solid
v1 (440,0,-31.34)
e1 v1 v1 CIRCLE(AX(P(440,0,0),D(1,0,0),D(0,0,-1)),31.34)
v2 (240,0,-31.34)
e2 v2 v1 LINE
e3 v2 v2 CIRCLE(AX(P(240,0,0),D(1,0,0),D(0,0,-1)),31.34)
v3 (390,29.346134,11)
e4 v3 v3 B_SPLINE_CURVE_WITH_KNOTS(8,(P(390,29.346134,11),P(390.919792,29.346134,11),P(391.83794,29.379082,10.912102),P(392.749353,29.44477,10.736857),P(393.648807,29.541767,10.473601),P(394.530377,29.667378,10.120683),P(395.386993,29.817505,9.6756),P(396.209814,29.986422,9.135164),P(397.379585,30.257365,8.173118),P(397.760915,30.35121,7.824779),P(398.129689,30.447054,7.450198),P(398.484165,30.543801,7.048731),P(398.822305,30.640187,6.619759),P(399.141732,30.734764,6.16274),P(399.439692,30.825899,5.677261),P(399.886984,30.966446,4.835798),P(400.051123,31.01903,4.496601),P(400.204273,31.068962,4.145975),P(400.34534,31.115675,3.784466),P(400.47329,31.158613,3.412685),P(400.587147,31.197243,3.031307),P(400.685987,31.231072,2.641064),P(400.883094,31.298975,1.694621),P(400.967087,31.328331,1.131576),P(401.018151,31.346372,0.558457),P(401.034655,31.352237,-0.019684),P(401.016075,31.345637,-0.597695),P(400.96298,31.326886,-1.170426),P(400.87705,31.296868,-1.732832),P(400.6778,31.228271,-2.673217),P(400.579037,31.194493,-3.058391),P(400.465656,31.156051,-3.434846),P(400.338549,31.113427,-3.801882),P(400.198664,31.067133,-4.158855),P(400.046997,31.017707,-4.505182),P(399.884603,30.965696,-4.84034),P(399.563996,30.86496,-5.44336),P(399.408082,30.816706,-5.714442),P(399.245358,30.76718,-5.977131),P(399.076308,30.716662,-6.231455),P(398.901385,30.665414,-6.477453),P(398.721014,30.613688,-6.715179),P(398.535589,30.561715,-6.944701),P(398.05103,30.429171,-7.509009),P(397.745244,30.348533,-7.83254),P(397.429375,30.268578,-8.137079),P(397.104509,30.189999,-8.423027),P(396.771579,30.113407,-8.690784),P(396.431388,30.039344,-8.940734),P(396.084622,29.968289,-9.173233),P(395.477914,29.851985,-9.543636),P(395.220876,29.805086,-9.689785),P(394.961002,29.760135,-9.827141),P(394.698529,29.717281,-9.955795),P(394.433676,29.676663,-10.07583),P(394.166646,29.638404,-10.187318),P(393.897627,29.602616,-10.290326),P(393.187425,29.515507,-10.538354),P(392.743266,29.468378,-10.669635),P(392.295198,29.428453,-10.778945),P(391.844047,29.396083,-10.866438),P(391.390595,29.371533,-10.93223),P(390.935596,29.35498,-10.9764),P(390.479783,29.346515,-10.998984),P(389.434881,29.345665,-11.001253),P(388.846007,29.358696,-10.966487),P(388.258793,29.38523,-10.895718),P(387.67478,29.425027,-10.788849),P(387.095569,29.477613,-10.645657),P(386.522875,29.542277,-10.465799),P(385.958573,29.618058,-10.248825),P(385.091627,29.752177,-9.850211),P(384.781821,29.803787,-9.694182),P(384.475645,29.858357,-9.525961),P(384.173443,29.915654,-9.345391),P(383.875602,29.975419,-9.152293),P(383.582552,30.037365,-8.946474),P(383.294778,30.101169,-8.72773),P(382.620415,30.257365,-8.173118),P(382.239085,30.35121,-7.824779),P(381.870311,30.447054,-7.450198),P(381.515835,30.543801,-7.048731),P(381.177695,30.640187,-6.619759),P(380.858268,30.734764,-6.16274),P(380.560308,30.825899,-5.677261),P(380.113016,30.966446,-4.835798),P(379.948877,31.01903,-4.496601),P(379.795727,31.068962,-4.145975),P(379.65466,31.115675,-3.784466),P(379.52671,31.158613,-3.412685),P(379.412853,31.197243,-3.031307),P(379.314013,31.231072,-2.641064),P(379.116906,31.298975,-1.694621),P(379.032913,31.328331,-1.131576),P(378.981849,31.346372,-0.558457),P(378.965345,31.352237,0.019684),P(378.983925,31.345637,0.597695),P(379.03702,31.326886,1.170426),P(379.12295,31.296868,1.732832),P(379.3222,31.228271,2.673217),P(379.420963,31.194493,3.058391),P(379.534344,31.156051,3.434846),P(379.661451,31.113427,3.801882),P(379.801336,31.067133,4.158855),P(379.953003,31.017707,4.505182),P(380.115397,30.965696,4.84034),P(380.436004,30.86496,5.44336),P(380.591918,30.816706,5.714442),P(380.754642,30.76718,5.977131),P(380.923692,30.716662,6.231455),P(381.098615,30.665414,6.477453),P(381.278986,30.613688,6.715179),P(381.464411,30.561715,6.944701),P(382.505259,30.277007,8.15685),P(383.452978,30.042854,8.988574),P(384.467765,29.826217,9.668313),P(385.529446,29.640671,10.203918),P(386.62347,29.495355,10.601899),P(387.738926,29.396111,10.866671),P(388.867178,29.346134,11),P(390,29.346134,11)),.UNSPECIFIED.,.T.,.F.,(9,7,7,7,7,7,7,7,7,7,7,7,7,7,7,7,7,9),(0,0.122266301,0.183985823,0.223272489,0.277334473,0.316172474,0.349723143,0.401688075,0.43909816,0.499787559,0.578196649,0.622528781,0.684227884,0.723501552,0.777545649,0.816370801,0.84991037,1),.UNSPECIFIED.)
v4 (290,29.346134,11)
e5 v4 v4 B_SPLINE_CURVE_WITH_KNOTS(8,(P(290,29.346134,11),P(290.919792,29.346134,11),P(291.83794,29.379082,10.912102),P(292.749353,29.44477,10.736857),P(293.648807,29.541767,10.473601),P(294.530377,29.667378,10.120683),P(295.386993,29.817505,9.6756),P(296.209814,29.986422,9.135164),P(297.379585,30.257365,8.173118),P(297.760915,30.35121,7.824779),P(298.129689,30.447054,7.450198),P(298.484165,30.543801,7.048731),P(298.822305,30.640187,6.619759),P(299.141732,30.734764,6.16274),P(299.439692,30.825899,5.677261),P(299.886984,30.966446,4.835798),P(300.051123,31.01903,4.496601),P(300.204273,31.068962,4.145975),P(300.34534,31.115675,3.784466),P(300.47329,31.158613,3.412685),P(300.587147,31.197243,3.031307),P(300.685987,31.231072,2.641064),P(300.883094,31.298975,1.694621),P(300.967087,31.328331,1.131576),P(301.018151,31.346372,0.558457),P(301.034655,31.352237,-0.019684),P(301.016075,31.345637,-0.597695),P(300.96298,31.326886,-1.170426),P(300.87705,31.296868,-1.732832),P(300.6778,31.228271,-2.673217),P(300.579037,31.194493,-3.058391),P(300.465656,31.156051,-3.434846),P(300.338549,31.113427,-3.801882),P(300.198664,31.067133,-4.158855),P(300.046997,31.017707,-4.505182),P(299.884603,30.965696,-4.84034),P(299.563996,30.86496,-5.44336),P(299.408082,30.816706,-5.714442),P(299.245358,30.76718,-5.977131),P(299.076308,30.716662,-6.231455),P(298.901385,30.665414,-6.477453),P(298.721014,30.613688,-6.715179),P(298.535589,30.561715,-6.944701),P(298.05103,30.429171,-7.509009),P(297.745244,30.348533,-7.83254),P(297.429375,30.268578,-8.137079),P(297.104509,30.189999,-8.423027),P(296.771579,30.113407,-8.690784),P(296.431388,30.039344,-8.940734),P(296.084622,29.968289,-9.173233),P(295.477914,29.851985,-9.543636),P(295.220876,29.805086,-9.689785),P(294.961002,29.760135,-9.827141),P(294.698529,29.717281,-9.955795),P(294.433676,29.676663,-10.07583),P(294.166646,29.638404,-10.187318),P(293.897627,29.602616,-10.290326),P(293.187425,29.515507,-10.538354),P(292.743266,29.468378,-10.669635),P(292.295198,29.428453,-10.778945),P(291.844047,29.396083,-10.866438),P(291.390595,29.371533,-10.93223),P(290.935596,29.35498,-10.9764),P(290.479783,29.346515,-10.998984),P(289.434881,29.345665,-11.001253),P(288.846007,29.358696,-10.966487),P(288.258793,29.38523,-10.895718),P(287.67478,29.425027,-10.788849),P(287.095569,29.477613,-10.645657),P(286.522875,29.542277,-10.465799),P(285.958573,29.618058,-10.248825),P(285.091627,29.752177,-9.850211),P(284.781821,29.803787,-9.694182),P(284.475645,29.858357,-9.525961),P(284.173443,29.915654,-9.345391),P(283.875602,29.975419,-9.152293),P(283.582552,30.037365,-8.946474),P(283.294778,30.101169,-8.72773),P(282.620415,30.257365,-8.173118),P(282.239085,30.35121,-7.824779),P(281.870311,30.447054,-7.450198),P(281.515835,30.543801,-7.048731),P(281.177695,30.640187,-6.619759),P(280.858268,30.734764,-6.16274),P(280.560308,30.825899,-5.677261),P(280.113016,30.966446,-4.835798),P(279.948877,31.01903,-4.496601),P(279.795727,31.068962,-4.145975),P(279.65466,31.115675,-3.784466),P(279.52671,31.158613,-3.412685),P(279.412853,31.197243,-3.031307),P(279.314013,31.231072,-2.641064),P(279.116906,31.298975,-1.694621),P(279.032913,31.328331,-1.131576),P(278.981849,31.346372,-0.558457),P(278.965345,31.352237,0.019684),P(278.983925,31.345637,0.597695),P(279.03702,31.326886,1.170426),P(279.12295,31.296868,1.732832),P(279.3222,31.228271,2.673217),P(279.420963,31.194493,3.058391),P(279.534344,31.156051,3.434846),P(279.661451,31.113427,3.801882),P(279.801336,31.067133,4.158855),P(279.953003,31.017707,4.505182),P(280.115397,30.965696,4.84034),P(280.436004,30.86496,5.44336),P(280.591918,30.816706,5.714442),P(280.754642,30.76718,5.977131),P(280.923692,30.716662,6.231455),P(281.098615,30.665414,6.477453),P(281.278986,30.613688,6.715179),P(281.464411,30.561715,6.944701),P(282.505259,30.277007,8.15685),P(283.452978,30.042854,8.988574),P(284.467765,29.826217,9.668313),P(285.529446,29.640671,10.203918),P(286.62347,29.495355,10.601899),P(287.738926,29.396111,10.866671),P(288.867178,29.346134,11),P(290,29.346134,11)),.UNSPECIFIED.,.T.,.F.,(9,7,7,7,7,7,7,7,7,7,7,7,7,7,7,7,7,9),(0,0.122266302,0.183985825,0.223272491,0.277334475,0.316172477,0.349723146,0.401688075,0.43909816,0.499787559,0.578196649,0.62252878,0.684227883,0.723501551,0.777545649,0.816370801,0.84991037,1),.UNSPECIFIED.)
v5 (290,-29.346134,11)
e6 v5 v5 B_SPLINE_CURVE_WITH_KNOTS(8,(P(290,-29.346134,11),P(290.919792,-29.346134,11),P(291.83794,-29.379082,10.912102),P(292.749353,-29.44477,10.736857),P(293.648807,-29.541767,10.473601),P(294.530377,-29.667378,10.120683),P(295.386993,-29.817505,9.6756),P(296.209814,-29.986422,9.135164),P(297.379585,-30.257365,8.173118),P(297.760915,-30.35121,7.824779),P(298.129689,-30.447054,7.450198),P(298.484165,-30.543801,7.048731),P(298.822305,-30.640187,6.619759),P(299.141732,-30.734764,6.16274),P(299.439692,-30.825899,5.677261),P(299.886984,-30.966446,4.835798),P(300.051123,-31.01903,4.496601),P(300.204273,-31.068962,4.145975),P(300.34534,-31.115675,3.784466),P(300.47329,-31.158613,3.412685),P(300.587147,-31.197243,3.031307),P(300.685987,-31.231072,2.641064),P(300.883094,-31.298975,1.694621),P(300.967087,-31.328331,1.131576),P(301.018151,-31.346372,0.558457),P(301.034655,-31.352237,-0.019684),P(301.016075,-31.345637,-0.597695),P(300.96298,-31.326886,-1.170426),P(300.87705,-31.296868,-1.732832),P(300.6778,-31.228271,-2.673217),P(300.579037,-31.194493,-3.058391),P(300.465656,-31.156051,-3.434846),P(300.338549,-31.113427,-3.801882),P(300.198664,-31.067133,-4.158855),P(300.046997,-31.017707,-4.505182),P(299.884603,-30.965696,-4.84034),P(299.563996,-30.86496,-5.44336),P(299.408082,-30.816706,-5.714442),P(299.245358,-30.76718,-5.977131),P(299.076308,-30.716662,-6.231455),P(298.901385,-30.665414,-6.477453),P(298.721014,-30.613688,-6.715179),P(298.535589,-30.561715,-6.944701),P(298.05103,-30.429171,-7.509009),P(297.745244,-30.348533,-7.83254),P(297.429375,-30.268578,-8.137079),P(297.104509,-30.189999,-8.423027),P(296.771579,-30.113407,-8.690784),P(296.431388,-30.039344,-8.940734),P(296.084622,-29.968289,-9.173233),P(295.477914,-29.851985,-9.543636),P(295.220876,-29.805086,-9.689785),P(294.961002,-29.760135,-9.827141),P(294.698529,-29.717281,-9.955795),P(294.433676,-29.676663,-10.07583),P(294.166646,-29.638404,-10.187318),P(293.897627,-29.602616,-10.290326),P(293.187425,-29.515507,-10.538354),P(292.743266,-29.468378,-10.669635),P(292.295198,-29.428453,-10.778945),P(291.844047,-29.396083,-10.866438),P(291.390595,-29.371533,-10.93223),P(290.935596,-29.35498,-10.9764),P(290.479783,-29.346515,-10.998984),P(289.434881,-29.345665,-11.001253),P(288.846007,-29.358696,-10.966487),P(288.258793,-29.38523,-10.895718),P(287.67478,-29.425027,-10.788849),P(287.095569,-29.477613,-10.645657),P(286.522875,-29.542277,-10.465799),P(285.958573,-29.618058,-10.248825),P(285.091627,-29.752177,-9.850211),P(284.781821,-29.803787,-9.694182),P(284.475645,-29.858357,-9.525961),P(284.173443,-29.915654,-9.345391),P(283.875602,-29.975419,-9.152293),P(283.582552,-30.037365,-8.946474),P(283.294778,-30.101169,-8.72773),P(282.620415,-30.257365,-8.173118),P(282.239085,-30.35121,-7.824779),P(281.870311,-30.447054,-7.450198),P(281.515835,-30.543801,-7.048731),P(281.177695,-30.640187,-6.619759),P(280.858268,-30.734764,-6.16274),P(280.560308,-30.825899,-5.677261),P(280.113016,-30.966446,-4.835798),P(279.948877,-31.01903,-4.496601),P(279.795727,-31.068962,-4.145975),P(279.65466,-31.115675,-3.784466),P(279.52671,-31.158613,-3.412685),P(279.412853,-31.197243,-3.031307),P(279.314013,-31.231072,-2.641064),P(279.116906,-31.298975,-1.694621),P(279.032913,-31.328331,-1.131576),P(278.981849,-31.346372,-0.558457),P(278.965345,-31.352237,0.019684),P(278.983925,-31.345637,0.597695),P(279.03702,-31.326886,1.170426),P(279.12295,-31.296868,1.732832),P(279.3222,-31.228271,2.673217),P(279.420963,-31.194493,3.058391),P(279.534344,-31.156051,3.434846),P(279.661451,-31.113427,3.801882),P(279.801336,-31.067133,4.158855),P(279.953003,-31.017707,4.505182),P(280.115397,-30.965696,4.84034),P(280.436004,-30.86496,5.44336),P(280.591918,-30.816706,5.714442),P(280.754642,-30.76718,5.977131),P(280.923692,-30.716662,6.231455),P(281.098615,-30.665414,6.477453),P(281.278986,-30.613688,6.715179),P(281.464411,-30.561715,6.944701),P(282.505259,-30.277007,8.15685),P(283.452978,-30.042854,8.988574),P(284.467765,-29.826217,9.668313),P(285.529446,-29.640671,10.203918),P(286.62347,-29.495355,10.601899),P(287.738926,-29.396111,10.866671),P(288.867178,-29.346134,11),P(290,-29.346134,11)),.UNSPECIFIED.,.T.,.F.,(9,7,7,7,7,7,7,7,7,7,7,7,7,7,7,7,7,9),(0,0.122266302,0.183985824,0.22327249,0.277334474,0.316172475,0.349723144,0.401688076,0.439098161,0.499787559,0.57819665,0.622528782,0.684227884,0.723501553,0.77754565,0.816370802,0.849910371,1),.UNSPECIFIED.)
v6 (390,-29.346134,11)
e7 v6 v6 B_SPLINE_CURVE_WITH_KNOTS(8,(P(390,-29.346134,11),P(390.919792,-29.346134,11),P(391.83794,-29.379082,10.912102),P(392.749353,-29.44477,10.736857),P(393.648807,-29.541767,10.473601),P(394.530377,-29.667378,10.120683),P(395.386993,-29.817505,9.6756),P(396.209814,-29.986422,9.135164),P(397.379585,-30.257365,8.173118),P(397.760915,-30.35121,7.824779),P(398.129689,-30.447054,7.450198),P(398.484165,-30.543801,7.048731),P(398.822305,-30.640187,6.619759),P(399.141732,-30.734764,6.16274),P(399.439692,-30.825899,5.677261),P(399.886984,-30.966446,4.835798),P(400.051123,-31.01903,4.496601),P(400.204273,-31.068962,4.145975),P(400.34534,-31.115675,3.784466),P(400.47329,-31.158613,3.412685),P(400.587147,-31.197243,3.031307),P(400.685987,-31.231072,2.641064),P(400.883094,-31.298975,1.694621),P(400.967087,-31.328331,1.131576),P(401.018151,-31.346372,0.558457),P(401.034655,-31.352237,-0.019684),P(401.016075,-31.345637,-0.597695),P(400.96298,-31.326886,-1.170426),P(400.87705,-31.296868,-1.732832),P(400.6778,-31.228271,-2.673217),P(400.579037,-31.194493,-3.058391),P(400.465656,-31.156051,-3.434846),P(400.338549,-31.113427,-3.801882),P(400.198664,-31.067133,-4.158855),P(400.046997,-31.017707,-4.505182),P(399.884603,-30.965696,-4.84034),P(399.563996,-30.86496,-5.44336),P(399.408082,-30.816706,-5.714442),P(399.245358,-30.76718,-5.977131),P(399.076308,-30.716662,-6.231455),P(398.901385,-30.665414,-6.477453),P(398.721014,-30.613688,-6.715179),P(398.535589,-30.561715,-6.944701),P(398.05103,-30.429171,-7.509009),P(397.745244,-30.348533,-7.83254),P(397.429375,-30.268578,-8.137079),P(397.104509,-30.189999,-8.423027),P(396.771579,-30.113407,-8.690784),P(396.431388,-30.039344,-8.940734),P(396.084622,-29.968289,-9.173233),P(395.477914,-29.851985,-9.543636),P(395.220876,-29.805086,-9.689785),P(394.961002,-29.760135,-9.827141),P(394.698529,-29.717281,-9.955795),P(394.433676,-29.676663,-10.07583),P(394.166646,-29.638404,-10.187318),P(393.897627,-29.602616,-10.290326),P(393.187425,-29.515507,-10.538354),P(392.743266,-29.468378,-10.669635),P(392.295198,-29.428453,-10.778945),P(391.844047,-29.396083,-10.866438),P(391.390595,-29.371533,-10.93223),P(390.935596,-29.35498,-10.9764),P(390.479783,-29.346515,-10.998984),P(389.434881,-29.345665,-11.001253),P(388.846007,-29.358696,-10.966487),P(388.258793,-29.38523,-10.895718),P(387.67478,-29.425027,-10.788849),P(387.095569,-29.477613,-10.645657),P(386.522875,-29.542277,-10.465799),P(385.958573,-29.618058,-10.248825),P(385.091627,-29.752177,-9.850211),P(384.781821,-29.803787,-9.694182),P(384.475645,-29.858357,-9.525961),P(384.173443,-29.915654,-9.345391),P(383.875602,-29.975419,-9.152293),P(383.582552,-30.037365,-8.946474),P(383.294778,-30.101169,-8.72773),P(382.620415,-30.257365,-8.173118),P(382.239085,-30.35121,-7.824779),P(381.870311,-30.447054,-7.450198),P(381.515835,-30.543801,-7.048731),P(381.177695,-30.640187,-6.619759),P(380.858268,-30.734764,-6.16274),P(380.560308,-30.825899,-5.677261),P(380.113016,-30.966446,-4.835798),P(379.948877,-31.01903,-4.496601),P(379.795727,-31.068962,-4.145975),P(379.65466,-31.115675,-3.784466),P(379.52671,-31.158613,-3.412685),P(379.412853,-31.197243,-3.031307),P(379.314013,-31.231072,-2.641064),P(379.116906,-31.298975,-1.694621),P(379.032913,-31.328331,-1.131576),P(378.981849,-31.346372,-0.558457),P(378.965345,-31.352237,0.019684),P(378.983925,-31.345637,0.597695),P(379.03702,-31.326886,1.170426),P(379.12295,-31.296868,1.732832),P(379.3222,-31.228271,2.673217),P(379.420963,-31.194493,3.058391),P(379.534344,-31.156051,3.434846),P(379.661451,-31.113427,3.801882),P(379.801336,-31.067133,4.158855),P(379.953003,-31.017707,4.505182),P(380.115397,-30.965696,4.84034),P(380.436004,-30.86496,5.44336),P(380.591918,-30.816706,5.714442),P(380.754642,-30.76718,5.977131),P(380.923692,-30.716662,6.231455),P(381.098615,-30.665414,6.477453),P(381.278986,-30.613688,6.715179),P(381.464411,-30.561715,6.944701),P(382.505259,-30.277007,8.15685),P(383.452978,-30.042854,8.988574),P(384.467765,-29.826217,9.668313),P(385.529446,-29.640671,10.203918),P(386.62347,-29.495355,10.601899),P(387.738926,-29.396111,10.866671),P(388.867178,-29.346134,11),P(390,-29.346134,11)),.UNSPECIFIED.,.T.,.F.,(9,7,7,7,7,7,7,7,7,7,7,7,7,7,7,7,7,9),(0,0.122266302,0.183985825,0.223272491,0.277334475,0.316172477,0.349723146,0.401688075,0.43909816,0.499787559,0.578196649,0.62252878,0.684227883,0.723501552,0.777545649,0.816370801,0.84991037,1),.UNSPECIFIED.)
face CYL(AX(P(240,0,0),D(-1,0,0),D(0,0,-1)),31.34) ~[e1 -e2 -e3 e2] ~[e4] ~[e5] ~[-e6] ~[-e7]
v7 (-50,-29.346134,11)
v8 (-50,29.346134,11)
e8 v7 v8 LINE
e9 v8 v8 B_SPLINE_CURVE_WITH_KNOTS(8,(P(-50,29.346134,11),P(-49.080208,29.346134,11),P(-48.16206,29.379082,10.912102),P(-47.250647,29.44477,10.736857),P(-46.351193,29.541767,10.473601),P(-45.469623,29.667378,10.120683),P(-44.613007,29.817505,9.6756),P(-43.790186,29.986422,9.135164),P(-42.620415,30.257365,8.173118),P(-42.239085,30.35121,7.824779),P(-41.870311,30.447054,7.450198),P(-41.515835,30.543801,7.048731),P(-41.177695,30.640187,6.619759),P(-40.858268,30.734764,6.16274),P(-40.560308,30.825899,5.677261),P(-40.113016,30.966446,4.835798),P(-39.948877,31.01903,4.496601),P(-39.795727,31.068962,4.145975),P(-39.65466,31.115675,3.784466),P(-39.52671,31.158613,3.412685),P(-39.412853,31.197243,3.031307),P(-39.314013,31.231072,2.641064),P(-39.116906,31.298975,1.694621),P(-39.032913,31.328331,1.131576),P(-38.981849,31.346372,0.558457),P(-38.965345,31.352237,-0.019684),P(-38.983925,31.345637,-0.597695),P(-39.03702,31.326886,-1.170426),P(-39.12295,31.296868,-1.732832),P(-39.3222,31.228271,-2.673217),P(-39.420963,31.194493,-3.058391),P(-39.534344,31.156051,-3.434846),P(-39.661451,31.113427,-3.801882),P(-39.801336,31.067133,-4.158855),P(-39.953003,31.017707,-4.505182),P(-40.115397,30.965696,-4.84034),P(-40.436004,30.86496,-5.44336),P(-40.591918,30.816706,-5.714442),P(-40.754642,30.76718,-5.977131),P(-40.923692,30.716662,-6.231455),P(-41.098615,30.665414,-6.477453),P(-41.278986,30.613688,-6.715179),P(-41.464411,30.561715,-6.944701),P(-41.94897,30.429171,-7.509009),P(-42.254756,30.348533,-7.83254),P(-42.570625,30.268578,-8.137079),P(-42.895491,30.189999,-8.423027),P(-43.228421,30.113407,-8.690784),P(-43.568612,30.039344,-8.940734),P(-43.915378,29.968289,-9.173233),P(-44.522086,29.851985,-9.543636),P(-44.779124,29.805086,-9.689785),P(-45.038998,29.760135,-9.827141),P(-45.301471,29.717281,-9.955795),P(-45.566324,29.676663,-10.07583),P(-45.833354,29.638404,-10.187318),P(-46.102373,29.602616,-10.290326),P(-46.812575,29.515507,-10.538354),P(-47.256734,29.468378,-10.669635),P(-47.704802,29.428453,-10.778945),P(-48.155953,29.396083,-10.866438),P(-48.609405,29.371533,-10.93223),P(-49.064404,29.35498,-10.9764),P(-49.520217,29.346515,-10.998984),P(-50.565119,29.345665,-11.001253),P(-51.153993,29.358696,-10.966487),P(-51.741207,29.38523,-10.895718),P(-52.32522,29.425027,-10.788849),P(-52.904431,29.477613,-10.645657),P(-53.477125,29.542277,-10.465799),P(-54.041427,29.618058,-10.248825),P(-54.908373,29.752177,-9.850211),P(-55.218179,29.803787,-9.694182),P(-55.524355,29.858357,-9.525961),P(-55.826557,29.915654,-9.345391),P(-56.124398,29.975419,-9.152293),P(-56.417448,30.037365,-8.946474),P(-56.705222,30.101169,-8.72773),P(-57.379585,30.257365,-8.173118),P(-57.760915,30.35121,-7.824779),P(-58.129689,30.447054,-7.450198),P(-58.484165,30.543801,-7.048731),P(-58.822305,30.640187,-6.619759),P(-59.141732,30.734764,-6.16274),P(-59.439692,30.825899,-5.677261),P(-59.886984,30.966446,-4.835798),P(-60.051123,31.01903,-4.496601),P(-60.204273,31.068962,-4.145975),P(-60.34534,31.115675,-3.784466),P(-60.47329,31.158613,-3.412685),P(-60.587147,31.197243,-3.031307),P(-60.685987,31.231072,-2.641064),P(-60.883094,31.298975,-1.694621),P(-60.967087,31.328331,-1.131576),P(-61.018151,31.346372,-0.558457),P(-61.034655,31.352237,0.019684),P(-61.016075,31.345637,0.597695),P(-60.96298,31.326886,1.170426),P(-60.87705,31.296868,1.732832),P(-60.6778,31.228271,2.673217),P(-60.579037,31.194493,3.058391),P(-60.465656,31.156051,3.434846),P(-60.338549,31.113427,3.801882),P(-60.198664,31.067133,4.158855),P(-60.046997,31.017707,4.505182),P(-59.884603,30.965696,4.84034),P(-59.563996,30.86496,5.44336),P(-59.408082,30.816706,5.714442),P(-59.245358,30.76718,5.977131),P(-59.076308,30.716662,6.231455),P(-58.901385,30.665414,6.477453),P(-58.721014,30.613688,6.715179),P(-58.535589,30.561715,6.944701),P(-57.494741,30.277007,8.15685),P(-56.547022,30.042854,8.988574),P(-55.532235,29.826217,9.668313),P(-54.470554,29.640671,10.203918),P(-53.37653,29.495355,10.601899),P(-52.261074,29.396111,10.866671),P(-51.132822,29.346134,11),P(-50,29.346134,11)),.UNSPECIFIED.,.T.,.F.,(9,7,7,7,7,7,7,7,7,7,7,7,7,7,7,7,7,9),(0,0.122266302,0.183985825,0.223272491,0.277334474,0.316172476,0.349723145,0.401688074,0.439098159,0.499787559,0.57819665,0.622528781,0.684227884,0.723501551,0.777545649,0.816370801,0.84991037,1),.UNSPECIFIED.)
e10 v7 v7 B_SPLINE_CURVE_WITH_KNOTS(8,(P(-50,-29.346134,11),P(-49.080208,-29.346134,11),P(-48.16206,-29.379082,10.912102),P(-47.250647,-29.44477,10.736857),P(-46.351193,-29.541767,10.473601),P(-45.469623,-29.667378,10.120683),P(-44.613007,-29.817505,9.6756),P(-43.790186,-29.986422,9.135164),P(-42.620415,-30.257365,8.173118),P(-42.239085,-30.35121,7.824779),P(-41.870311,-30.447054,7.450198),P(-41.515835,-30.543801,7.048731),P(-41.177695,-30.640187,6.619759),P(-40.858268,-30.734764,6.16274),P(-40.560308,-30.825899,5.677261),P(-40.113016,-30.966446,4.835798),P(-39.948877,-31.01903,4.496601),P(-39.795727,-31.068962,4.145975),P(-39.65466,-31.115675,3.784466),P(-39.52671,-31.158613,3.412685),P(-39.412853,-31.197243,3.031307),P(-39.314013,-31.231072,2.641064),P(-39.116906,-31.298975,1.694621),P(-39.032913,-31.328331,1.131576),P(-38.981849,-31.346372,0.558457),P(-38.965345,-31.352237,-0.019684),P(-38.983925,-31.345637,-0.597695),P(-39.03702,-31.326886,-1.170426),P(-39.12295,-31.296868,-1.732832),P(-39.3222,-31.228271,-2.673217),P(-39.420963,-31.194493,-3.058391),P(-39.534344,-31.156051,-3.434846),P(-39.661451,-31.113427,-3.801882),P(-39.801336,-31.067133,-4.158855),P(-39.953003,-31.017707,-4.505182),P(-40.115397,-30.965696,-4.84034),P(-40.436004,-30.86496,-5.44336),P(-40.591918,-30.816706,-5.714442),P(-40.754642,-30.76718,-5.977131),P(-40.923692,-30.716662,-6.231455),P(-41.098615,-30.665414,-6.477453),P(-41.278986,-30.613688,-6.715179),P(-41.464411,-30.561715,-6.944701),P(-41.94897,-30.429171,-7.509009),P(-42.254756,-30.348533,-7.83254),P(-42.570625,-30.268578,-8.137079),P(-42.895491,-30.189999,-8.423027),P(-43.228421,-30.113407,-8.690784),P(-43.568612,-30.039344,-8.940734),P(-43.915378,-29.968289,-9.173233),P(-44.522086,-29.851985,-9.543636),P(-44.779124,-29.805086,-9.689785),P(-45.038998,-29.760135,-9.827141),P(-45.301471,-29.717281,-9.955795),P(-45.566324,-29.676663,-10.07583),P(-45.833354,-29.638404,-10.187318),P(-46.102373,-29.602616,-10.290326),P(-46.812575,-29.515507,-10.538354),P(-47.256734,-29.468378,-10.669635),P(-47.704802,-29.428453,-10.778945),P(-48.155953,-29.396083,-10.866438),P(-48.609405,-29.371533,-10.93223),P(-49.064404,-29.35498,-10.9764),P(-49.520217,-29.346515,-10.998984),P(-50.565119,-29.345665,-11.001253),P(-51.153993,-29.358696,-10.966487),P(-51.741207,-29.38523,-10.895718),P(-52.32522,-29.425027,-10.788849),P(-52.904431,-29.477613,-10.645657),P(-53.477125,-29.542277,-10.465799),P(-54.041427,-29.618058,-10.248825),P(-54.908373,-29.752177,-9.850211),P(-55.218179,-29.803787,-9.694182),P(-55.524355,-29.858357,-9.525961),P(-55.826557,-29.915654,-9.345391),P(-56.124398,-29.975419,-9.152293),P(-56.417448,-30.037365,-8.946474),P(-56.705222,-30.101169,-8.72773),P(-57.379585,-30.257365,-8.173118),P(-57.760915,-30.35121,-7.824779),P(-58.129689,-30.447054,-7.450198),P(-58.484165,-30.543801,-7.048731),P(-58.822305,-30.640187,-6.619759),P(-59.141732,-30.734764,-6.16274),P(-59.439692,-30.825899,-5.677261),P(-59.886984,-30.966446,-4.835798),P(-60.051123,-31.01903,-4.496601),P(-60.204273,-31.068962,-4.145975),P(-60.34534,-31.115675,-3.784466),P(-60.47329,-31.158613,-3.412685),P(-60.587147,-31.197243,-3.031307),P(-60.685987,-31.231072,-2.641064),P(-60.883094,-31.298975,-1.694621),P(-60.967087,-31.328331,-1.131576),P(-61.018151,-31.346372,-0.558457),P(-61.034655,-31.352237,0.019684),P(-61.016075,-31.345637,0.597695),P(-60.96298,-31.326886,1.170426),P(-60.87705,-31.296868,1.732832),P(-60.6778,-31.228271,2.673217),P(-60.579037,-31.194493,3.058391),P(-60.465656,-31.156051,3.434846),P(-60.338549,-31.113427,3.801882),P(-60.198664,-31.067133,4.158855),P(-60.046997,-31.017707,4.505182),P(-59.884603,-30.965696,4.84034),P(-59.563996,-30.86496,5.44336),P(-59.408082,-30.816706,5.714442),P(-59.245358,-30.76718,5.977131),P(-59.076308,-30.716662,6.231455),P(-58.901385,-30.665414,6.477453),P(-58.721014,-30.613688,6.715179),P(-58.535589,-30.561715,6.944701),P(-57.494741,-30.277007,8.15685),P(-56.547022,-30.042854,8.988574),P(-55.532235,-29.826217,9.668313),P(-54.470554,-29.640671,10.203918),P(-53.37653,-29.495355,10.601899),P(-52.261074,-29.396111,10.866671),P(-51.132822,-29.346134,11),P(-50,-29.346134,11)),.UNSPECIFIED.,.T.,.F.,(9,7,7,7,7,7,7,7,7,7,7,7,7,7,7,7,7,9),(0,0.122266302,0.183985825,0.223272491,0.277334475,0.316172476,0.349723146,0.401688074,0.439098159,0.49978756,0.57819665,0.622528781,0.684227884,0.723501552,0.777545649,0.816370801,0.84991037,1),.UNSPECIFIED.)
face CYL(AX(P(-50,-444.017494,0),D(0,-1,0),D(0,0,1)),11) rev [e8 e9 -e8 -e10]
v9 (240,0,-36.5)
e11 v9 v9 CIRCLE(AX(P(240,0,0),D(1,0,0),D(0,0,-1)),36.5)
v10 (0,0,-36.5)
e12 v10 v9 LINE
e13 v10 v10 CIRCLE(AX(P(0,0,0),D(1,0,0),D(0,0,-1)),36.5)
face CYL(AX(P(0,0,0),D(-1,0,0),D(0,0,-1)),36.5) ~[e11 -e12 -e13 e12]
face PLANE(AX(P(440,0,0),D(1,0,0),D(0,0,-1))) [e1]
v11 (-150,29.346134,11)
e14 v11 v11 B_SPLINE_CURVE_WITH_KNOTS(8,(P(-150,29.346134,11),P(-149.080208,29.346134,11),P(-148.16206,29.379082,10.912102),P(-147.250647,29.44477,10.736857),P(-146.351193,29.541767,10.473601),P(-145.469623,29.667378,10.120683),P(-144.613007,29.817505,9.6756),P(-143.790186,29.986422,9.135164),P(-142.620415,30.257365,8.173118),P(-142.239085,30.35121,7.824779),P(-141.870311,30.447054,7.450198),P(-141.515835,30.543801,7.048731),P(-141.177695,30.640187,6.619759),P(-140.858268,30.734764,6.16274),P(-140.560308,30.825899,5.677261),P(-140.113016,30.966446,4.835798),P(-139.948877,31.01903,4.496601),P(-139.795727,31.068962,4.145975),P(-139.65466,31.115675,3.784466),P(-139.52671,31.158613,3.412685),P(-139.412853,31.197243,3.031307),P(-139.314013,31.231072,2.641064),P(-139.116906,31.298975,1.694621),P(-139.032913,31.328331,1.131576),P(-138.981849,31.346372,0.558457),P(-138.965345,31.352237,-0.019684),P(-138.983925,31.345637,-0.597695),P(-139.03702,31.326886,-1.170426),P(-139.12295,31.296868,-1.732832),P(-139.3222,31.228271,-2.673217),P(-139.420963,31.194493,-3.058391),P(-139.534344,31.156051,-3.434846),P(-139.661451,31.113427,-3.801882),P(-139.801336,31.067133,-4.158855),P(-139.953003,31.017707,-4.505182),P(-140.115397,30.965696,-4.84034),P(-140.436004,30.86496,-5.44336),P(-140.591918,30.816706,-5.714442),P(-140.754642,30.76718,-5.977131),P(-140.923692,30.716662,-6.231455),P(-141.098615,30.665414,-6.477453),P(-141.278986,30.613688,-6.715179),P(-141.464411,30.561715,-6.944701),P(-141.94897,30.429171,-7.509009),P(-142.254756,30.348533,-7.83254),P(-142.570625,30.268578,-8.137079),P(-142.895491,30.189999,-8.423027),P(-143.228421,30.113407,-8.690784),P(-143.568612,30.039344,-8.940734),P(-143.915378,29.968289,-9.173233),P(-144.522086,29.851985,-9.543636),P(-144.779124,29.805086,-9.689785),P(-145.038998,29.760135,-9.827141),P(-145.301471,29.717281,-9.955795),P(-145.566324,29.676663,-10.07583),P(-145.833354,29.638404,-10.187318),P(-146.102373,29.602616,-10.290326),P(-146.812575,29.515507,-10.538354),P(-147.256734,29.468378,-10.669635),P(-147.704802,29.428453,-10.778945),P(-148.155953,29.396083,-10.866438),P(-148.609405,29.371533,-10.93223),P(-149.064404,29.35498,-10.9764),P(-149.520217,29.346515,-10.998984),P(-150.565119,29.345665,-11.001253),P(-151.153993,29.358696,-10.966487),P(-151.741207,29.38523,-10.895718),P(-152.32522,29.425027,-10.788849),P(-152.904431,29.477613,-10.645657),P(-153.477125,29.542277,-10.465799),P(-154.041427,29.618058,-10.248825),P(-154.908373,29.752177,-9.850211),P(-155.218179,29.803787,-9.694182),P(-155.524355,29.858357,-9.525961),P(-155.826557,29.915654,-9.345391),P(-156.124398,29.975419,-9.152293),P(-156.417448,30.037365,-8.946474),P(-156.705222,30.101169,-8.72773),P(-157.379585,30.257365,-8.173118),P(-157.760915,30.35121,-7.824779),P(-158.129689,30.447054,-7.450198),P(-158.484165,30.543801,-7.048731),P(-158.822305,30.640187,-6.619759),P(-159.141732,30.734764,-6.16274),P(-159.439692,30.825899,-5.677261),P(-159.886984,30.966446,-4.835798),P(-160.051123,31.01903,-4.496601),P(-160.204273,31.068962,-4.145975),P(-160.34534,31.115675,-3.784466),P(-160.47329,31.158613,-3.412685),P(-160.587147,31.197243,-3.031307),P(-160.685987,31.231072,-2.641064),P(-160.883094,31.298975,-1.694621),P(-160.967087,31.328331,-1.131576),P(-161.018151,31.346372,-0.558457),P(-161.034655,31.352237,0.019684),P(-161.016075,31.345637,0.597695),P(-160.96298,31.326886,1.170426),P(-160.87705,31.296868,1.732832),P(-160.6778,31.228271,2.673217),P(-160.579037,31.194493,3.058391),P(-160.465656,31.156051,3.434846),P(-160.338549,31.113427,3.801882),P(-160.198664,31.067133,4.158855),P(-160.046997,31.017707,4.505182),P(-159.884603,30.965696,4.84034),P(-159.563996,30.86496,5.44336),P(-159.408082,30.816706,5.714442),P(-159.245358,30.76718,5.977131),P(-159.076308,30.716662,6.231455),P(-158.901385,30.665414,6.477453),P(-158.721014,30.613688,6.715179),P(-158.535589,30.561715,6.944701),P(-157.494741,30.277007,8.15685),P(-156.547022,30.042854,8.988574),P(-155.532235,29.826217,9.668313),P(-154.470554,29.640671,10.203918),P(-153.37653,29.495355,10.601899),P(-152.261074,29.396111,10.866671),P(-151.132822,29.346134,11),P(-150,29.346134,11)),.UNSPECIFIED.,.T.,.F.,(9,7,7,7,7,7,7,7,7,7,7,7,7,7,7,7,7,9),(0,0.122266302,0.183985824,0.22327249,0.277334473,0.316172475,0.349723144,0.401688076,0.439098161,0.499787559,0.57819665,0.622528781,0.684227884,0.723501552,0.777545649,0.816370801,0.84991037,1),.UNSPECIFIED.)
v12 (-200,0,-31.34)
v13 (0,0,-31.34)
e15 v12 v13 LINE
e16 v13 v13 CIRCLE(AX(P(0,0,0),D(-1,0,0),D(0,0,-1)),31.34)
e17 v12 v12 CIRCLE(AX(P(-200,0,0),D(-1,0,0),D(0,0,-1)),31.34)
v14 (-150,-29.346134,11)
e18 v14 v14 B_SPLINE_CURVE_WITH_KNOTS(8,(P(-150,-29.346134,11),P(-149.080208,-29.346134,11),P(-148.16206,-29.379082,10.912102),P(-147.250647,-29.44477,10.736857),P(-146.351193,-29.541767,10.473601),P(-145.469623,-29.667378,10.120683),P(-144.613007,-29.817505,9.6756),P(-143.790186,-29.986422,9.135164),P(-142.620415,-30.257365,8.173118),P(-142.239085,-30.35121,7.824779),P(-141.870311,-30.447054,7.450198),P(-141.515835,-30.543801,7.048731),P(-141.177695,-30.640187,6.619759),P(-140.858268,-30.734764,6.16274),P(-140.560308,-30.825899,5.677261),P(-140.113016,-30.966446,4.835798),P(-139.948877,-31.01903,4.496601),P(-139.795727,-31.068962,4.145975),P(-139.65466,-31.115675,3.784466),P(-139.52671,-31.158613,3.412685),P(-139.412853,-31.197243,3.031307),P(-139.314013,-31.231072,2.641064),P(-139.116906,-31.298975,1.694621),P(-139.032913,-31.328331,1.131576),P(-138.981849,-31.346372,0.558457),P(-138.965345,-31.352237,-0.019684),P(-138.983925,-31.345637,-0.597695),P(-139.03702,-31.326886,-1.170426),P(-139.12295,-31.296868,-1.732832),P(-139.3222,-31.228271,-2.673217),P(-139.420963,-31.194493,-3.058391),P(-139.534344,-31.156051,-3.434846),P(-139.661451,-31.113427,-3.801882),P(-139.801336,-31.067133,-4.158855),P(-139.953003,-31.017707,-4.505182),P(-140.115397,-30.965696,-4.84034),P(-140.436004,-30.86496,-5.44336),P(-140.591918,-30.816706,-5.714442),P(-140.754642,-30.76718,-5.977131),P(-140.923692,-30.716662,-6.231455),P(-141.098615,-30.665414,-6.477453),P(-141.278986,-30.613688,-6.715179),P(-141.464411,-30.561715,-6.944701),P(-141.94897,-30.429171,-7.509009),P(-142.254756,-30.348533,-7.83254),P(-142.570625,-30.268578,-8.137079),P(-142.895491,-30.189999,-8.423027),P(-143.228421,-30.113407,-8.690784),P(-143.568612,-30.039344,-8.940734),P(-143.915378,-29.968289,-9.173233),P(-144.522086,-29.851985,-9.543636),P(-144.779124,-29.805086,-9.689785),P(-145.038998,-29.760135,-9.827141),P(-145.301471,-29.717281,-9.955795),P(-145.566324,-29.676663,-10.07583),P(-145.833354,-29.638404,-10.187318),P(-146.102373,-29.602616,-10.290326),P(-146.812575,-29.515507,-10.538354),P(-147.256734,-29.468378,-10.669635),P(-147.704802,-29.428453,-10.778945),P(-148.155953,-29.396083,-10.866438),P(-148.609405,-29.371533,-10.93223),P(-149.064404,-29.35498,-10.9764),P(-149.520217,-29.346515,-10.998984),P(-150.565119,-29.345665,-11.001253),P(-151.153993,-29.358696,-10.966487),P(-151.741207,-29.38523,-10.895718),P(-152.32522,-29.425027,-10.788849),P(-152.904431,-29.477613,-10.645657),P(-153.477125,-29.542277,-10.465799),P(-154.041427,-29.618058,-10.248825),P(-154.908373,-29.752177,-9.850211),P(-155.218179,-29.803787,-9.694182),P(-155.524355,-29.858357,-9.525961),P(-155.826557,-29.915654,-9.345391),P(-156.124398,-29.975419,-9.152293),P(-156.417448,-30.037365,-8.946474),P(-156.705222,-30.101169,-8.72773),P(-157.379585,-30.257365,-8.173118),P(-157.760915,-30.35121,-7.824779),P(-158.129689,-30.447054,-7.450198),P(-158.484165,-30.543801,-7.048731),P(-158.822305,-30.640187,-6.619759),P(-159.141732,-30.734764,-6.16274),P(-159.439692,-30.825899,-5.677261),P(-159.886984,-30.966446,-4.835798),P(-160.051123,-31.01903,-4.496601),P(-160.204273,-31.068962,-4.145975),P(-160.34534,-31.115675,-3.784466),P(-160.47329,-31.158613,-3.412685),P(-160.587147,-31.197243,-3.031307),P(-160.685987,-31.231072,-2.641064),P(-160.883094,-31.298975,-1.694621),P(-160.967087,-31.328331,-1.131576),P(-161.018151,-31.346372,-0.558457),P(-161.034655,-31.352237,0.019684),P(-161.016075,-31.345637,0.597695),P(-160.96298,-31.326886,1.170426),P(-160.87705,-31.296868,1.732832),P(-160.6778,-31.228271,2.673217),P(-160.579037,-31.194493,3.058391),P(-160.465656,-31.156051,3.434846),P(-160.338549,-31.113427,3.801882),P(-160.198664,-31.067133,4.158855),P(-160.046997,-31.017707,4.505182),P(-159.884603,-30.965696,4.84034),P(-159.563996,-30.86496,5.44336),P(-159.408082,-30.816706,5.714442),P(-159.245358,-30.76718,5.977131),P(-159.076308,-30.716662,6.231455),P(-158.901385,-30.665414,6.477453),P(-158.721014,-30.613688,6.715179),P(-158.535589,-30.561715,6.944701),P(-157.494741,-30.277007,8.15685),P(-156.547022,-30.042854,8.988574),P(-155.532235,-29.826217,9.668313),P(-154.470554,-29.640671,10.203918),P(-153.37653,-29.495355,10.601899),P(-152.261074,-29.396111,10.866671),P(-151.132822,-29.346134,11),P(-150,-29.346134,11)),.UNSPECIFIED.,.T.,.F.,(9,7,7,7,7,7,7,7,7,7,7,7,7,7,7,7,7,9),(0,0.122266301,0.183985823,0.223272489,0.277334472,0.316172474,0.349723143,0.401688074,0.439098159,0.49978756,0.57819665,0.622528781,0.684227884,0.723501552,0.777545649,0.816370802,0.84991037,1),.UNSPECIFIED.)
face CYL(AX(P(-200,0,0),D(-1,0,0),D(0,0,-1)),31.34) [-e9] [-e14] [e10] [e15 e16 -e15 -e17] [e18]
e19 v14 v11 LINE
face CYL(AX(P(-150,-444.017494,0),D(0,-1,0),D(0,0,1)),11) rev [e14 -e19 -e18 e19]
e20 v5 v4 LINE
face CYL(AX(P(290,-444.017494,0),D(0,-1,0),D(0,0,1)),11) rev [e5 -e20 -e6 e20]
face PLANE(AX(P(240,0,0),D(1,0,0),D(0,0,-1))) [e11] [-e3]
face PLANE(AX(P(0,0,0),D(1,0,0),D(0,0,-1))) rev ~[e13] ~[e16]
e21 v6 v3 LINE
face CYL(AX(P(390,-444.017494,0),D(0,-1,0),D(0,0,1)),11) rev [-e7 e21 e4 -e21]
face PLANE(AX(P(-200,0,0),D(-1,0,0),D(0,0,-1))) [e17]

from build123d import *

# Parameters (mm, degrees)
SKETCH1_R               = 36.5
BOSS_EXTRUDE1_DEPTH     = 240
SKETCH2_R               = 31.34
BOSS_EXTRUDE2_DEPTH     = 200
BOSS_EXTRUDE3_START     = 200
SKETCH3_R               = 31.34
BOSS_EXTRUDE3_DEPTH     = 200
CUT_EXTRUDE1_DEPTH      = 444.017494011
CUT_EXTRUDE1_DEPTH_BACK = 444.017494011
SKETCH4_R               = 11


with BuildPart() as part:
    # Sketch1 → Boss-Extrude1 (new body)
    with BuildSketch(Plane(origin=(0, 0, 0), x_dir=(0, 0, -1), z_dir=(1, 0, 0))):
        Circle(SKETCH1_R)
    extrude(amount=BOSS_EXTRUDE1_DEPTH)

    # Sketch2 → Boss-Extrude2 (add)
    with BuildSketch(Plane(origin=(240, 0, 0), x_dir=(0, 0, -1), z_dir=(1, 0, 0))):
        Circle(SKETCH2_R)
    extrude(amount=BOSS_EXTRUDE2_DEPTH)

    # Sketch3 → Boss-Extrude3 (add)
    with BuildSketch(Plane.ZY.offset(BOSS_EXTRUDE3_START)):
        with Locations(Location((0, 0, 0), (0, 0, 180))):
            Circle(SKETCH3_R)
    extrude(amount=-BOSS_EXTRUDE3_DEPTH)

    # Sketch4 → Cut-Extrude1 (cut, two sides: drawn at the far end of the back side and taken through both)
    with BuildSketch(Plane(origin=(0, 0, 0), x_dir=(1, 0, 0), z_dir=(0, 1, 0)).offset(-CUT_EXTRUDE1_DEPTH_BACK)):
        with Locations(Location((-50, 0, 0), (0, 0, 270))):
            Circle(SKETCH4_R)
        with Locations(Location((-150, 0, 0), (0, 0, 270))):
            Circle(SKETCH4_R)
        with Locations(Location((290, 0, 0), (0, 0, 270))):
            Circle(SKETCH4_R)
        with Locations(Location((390, 0, 0), (0, 0, 270))):
            Circle(SKETCH4_R)
    extrude(amount=CUT_EXTRUDE1_DEPTH + CUT_EXTRUDE1_DEPTH_BACK, mode=Mode.SUBTRACT)


solid = part.part
